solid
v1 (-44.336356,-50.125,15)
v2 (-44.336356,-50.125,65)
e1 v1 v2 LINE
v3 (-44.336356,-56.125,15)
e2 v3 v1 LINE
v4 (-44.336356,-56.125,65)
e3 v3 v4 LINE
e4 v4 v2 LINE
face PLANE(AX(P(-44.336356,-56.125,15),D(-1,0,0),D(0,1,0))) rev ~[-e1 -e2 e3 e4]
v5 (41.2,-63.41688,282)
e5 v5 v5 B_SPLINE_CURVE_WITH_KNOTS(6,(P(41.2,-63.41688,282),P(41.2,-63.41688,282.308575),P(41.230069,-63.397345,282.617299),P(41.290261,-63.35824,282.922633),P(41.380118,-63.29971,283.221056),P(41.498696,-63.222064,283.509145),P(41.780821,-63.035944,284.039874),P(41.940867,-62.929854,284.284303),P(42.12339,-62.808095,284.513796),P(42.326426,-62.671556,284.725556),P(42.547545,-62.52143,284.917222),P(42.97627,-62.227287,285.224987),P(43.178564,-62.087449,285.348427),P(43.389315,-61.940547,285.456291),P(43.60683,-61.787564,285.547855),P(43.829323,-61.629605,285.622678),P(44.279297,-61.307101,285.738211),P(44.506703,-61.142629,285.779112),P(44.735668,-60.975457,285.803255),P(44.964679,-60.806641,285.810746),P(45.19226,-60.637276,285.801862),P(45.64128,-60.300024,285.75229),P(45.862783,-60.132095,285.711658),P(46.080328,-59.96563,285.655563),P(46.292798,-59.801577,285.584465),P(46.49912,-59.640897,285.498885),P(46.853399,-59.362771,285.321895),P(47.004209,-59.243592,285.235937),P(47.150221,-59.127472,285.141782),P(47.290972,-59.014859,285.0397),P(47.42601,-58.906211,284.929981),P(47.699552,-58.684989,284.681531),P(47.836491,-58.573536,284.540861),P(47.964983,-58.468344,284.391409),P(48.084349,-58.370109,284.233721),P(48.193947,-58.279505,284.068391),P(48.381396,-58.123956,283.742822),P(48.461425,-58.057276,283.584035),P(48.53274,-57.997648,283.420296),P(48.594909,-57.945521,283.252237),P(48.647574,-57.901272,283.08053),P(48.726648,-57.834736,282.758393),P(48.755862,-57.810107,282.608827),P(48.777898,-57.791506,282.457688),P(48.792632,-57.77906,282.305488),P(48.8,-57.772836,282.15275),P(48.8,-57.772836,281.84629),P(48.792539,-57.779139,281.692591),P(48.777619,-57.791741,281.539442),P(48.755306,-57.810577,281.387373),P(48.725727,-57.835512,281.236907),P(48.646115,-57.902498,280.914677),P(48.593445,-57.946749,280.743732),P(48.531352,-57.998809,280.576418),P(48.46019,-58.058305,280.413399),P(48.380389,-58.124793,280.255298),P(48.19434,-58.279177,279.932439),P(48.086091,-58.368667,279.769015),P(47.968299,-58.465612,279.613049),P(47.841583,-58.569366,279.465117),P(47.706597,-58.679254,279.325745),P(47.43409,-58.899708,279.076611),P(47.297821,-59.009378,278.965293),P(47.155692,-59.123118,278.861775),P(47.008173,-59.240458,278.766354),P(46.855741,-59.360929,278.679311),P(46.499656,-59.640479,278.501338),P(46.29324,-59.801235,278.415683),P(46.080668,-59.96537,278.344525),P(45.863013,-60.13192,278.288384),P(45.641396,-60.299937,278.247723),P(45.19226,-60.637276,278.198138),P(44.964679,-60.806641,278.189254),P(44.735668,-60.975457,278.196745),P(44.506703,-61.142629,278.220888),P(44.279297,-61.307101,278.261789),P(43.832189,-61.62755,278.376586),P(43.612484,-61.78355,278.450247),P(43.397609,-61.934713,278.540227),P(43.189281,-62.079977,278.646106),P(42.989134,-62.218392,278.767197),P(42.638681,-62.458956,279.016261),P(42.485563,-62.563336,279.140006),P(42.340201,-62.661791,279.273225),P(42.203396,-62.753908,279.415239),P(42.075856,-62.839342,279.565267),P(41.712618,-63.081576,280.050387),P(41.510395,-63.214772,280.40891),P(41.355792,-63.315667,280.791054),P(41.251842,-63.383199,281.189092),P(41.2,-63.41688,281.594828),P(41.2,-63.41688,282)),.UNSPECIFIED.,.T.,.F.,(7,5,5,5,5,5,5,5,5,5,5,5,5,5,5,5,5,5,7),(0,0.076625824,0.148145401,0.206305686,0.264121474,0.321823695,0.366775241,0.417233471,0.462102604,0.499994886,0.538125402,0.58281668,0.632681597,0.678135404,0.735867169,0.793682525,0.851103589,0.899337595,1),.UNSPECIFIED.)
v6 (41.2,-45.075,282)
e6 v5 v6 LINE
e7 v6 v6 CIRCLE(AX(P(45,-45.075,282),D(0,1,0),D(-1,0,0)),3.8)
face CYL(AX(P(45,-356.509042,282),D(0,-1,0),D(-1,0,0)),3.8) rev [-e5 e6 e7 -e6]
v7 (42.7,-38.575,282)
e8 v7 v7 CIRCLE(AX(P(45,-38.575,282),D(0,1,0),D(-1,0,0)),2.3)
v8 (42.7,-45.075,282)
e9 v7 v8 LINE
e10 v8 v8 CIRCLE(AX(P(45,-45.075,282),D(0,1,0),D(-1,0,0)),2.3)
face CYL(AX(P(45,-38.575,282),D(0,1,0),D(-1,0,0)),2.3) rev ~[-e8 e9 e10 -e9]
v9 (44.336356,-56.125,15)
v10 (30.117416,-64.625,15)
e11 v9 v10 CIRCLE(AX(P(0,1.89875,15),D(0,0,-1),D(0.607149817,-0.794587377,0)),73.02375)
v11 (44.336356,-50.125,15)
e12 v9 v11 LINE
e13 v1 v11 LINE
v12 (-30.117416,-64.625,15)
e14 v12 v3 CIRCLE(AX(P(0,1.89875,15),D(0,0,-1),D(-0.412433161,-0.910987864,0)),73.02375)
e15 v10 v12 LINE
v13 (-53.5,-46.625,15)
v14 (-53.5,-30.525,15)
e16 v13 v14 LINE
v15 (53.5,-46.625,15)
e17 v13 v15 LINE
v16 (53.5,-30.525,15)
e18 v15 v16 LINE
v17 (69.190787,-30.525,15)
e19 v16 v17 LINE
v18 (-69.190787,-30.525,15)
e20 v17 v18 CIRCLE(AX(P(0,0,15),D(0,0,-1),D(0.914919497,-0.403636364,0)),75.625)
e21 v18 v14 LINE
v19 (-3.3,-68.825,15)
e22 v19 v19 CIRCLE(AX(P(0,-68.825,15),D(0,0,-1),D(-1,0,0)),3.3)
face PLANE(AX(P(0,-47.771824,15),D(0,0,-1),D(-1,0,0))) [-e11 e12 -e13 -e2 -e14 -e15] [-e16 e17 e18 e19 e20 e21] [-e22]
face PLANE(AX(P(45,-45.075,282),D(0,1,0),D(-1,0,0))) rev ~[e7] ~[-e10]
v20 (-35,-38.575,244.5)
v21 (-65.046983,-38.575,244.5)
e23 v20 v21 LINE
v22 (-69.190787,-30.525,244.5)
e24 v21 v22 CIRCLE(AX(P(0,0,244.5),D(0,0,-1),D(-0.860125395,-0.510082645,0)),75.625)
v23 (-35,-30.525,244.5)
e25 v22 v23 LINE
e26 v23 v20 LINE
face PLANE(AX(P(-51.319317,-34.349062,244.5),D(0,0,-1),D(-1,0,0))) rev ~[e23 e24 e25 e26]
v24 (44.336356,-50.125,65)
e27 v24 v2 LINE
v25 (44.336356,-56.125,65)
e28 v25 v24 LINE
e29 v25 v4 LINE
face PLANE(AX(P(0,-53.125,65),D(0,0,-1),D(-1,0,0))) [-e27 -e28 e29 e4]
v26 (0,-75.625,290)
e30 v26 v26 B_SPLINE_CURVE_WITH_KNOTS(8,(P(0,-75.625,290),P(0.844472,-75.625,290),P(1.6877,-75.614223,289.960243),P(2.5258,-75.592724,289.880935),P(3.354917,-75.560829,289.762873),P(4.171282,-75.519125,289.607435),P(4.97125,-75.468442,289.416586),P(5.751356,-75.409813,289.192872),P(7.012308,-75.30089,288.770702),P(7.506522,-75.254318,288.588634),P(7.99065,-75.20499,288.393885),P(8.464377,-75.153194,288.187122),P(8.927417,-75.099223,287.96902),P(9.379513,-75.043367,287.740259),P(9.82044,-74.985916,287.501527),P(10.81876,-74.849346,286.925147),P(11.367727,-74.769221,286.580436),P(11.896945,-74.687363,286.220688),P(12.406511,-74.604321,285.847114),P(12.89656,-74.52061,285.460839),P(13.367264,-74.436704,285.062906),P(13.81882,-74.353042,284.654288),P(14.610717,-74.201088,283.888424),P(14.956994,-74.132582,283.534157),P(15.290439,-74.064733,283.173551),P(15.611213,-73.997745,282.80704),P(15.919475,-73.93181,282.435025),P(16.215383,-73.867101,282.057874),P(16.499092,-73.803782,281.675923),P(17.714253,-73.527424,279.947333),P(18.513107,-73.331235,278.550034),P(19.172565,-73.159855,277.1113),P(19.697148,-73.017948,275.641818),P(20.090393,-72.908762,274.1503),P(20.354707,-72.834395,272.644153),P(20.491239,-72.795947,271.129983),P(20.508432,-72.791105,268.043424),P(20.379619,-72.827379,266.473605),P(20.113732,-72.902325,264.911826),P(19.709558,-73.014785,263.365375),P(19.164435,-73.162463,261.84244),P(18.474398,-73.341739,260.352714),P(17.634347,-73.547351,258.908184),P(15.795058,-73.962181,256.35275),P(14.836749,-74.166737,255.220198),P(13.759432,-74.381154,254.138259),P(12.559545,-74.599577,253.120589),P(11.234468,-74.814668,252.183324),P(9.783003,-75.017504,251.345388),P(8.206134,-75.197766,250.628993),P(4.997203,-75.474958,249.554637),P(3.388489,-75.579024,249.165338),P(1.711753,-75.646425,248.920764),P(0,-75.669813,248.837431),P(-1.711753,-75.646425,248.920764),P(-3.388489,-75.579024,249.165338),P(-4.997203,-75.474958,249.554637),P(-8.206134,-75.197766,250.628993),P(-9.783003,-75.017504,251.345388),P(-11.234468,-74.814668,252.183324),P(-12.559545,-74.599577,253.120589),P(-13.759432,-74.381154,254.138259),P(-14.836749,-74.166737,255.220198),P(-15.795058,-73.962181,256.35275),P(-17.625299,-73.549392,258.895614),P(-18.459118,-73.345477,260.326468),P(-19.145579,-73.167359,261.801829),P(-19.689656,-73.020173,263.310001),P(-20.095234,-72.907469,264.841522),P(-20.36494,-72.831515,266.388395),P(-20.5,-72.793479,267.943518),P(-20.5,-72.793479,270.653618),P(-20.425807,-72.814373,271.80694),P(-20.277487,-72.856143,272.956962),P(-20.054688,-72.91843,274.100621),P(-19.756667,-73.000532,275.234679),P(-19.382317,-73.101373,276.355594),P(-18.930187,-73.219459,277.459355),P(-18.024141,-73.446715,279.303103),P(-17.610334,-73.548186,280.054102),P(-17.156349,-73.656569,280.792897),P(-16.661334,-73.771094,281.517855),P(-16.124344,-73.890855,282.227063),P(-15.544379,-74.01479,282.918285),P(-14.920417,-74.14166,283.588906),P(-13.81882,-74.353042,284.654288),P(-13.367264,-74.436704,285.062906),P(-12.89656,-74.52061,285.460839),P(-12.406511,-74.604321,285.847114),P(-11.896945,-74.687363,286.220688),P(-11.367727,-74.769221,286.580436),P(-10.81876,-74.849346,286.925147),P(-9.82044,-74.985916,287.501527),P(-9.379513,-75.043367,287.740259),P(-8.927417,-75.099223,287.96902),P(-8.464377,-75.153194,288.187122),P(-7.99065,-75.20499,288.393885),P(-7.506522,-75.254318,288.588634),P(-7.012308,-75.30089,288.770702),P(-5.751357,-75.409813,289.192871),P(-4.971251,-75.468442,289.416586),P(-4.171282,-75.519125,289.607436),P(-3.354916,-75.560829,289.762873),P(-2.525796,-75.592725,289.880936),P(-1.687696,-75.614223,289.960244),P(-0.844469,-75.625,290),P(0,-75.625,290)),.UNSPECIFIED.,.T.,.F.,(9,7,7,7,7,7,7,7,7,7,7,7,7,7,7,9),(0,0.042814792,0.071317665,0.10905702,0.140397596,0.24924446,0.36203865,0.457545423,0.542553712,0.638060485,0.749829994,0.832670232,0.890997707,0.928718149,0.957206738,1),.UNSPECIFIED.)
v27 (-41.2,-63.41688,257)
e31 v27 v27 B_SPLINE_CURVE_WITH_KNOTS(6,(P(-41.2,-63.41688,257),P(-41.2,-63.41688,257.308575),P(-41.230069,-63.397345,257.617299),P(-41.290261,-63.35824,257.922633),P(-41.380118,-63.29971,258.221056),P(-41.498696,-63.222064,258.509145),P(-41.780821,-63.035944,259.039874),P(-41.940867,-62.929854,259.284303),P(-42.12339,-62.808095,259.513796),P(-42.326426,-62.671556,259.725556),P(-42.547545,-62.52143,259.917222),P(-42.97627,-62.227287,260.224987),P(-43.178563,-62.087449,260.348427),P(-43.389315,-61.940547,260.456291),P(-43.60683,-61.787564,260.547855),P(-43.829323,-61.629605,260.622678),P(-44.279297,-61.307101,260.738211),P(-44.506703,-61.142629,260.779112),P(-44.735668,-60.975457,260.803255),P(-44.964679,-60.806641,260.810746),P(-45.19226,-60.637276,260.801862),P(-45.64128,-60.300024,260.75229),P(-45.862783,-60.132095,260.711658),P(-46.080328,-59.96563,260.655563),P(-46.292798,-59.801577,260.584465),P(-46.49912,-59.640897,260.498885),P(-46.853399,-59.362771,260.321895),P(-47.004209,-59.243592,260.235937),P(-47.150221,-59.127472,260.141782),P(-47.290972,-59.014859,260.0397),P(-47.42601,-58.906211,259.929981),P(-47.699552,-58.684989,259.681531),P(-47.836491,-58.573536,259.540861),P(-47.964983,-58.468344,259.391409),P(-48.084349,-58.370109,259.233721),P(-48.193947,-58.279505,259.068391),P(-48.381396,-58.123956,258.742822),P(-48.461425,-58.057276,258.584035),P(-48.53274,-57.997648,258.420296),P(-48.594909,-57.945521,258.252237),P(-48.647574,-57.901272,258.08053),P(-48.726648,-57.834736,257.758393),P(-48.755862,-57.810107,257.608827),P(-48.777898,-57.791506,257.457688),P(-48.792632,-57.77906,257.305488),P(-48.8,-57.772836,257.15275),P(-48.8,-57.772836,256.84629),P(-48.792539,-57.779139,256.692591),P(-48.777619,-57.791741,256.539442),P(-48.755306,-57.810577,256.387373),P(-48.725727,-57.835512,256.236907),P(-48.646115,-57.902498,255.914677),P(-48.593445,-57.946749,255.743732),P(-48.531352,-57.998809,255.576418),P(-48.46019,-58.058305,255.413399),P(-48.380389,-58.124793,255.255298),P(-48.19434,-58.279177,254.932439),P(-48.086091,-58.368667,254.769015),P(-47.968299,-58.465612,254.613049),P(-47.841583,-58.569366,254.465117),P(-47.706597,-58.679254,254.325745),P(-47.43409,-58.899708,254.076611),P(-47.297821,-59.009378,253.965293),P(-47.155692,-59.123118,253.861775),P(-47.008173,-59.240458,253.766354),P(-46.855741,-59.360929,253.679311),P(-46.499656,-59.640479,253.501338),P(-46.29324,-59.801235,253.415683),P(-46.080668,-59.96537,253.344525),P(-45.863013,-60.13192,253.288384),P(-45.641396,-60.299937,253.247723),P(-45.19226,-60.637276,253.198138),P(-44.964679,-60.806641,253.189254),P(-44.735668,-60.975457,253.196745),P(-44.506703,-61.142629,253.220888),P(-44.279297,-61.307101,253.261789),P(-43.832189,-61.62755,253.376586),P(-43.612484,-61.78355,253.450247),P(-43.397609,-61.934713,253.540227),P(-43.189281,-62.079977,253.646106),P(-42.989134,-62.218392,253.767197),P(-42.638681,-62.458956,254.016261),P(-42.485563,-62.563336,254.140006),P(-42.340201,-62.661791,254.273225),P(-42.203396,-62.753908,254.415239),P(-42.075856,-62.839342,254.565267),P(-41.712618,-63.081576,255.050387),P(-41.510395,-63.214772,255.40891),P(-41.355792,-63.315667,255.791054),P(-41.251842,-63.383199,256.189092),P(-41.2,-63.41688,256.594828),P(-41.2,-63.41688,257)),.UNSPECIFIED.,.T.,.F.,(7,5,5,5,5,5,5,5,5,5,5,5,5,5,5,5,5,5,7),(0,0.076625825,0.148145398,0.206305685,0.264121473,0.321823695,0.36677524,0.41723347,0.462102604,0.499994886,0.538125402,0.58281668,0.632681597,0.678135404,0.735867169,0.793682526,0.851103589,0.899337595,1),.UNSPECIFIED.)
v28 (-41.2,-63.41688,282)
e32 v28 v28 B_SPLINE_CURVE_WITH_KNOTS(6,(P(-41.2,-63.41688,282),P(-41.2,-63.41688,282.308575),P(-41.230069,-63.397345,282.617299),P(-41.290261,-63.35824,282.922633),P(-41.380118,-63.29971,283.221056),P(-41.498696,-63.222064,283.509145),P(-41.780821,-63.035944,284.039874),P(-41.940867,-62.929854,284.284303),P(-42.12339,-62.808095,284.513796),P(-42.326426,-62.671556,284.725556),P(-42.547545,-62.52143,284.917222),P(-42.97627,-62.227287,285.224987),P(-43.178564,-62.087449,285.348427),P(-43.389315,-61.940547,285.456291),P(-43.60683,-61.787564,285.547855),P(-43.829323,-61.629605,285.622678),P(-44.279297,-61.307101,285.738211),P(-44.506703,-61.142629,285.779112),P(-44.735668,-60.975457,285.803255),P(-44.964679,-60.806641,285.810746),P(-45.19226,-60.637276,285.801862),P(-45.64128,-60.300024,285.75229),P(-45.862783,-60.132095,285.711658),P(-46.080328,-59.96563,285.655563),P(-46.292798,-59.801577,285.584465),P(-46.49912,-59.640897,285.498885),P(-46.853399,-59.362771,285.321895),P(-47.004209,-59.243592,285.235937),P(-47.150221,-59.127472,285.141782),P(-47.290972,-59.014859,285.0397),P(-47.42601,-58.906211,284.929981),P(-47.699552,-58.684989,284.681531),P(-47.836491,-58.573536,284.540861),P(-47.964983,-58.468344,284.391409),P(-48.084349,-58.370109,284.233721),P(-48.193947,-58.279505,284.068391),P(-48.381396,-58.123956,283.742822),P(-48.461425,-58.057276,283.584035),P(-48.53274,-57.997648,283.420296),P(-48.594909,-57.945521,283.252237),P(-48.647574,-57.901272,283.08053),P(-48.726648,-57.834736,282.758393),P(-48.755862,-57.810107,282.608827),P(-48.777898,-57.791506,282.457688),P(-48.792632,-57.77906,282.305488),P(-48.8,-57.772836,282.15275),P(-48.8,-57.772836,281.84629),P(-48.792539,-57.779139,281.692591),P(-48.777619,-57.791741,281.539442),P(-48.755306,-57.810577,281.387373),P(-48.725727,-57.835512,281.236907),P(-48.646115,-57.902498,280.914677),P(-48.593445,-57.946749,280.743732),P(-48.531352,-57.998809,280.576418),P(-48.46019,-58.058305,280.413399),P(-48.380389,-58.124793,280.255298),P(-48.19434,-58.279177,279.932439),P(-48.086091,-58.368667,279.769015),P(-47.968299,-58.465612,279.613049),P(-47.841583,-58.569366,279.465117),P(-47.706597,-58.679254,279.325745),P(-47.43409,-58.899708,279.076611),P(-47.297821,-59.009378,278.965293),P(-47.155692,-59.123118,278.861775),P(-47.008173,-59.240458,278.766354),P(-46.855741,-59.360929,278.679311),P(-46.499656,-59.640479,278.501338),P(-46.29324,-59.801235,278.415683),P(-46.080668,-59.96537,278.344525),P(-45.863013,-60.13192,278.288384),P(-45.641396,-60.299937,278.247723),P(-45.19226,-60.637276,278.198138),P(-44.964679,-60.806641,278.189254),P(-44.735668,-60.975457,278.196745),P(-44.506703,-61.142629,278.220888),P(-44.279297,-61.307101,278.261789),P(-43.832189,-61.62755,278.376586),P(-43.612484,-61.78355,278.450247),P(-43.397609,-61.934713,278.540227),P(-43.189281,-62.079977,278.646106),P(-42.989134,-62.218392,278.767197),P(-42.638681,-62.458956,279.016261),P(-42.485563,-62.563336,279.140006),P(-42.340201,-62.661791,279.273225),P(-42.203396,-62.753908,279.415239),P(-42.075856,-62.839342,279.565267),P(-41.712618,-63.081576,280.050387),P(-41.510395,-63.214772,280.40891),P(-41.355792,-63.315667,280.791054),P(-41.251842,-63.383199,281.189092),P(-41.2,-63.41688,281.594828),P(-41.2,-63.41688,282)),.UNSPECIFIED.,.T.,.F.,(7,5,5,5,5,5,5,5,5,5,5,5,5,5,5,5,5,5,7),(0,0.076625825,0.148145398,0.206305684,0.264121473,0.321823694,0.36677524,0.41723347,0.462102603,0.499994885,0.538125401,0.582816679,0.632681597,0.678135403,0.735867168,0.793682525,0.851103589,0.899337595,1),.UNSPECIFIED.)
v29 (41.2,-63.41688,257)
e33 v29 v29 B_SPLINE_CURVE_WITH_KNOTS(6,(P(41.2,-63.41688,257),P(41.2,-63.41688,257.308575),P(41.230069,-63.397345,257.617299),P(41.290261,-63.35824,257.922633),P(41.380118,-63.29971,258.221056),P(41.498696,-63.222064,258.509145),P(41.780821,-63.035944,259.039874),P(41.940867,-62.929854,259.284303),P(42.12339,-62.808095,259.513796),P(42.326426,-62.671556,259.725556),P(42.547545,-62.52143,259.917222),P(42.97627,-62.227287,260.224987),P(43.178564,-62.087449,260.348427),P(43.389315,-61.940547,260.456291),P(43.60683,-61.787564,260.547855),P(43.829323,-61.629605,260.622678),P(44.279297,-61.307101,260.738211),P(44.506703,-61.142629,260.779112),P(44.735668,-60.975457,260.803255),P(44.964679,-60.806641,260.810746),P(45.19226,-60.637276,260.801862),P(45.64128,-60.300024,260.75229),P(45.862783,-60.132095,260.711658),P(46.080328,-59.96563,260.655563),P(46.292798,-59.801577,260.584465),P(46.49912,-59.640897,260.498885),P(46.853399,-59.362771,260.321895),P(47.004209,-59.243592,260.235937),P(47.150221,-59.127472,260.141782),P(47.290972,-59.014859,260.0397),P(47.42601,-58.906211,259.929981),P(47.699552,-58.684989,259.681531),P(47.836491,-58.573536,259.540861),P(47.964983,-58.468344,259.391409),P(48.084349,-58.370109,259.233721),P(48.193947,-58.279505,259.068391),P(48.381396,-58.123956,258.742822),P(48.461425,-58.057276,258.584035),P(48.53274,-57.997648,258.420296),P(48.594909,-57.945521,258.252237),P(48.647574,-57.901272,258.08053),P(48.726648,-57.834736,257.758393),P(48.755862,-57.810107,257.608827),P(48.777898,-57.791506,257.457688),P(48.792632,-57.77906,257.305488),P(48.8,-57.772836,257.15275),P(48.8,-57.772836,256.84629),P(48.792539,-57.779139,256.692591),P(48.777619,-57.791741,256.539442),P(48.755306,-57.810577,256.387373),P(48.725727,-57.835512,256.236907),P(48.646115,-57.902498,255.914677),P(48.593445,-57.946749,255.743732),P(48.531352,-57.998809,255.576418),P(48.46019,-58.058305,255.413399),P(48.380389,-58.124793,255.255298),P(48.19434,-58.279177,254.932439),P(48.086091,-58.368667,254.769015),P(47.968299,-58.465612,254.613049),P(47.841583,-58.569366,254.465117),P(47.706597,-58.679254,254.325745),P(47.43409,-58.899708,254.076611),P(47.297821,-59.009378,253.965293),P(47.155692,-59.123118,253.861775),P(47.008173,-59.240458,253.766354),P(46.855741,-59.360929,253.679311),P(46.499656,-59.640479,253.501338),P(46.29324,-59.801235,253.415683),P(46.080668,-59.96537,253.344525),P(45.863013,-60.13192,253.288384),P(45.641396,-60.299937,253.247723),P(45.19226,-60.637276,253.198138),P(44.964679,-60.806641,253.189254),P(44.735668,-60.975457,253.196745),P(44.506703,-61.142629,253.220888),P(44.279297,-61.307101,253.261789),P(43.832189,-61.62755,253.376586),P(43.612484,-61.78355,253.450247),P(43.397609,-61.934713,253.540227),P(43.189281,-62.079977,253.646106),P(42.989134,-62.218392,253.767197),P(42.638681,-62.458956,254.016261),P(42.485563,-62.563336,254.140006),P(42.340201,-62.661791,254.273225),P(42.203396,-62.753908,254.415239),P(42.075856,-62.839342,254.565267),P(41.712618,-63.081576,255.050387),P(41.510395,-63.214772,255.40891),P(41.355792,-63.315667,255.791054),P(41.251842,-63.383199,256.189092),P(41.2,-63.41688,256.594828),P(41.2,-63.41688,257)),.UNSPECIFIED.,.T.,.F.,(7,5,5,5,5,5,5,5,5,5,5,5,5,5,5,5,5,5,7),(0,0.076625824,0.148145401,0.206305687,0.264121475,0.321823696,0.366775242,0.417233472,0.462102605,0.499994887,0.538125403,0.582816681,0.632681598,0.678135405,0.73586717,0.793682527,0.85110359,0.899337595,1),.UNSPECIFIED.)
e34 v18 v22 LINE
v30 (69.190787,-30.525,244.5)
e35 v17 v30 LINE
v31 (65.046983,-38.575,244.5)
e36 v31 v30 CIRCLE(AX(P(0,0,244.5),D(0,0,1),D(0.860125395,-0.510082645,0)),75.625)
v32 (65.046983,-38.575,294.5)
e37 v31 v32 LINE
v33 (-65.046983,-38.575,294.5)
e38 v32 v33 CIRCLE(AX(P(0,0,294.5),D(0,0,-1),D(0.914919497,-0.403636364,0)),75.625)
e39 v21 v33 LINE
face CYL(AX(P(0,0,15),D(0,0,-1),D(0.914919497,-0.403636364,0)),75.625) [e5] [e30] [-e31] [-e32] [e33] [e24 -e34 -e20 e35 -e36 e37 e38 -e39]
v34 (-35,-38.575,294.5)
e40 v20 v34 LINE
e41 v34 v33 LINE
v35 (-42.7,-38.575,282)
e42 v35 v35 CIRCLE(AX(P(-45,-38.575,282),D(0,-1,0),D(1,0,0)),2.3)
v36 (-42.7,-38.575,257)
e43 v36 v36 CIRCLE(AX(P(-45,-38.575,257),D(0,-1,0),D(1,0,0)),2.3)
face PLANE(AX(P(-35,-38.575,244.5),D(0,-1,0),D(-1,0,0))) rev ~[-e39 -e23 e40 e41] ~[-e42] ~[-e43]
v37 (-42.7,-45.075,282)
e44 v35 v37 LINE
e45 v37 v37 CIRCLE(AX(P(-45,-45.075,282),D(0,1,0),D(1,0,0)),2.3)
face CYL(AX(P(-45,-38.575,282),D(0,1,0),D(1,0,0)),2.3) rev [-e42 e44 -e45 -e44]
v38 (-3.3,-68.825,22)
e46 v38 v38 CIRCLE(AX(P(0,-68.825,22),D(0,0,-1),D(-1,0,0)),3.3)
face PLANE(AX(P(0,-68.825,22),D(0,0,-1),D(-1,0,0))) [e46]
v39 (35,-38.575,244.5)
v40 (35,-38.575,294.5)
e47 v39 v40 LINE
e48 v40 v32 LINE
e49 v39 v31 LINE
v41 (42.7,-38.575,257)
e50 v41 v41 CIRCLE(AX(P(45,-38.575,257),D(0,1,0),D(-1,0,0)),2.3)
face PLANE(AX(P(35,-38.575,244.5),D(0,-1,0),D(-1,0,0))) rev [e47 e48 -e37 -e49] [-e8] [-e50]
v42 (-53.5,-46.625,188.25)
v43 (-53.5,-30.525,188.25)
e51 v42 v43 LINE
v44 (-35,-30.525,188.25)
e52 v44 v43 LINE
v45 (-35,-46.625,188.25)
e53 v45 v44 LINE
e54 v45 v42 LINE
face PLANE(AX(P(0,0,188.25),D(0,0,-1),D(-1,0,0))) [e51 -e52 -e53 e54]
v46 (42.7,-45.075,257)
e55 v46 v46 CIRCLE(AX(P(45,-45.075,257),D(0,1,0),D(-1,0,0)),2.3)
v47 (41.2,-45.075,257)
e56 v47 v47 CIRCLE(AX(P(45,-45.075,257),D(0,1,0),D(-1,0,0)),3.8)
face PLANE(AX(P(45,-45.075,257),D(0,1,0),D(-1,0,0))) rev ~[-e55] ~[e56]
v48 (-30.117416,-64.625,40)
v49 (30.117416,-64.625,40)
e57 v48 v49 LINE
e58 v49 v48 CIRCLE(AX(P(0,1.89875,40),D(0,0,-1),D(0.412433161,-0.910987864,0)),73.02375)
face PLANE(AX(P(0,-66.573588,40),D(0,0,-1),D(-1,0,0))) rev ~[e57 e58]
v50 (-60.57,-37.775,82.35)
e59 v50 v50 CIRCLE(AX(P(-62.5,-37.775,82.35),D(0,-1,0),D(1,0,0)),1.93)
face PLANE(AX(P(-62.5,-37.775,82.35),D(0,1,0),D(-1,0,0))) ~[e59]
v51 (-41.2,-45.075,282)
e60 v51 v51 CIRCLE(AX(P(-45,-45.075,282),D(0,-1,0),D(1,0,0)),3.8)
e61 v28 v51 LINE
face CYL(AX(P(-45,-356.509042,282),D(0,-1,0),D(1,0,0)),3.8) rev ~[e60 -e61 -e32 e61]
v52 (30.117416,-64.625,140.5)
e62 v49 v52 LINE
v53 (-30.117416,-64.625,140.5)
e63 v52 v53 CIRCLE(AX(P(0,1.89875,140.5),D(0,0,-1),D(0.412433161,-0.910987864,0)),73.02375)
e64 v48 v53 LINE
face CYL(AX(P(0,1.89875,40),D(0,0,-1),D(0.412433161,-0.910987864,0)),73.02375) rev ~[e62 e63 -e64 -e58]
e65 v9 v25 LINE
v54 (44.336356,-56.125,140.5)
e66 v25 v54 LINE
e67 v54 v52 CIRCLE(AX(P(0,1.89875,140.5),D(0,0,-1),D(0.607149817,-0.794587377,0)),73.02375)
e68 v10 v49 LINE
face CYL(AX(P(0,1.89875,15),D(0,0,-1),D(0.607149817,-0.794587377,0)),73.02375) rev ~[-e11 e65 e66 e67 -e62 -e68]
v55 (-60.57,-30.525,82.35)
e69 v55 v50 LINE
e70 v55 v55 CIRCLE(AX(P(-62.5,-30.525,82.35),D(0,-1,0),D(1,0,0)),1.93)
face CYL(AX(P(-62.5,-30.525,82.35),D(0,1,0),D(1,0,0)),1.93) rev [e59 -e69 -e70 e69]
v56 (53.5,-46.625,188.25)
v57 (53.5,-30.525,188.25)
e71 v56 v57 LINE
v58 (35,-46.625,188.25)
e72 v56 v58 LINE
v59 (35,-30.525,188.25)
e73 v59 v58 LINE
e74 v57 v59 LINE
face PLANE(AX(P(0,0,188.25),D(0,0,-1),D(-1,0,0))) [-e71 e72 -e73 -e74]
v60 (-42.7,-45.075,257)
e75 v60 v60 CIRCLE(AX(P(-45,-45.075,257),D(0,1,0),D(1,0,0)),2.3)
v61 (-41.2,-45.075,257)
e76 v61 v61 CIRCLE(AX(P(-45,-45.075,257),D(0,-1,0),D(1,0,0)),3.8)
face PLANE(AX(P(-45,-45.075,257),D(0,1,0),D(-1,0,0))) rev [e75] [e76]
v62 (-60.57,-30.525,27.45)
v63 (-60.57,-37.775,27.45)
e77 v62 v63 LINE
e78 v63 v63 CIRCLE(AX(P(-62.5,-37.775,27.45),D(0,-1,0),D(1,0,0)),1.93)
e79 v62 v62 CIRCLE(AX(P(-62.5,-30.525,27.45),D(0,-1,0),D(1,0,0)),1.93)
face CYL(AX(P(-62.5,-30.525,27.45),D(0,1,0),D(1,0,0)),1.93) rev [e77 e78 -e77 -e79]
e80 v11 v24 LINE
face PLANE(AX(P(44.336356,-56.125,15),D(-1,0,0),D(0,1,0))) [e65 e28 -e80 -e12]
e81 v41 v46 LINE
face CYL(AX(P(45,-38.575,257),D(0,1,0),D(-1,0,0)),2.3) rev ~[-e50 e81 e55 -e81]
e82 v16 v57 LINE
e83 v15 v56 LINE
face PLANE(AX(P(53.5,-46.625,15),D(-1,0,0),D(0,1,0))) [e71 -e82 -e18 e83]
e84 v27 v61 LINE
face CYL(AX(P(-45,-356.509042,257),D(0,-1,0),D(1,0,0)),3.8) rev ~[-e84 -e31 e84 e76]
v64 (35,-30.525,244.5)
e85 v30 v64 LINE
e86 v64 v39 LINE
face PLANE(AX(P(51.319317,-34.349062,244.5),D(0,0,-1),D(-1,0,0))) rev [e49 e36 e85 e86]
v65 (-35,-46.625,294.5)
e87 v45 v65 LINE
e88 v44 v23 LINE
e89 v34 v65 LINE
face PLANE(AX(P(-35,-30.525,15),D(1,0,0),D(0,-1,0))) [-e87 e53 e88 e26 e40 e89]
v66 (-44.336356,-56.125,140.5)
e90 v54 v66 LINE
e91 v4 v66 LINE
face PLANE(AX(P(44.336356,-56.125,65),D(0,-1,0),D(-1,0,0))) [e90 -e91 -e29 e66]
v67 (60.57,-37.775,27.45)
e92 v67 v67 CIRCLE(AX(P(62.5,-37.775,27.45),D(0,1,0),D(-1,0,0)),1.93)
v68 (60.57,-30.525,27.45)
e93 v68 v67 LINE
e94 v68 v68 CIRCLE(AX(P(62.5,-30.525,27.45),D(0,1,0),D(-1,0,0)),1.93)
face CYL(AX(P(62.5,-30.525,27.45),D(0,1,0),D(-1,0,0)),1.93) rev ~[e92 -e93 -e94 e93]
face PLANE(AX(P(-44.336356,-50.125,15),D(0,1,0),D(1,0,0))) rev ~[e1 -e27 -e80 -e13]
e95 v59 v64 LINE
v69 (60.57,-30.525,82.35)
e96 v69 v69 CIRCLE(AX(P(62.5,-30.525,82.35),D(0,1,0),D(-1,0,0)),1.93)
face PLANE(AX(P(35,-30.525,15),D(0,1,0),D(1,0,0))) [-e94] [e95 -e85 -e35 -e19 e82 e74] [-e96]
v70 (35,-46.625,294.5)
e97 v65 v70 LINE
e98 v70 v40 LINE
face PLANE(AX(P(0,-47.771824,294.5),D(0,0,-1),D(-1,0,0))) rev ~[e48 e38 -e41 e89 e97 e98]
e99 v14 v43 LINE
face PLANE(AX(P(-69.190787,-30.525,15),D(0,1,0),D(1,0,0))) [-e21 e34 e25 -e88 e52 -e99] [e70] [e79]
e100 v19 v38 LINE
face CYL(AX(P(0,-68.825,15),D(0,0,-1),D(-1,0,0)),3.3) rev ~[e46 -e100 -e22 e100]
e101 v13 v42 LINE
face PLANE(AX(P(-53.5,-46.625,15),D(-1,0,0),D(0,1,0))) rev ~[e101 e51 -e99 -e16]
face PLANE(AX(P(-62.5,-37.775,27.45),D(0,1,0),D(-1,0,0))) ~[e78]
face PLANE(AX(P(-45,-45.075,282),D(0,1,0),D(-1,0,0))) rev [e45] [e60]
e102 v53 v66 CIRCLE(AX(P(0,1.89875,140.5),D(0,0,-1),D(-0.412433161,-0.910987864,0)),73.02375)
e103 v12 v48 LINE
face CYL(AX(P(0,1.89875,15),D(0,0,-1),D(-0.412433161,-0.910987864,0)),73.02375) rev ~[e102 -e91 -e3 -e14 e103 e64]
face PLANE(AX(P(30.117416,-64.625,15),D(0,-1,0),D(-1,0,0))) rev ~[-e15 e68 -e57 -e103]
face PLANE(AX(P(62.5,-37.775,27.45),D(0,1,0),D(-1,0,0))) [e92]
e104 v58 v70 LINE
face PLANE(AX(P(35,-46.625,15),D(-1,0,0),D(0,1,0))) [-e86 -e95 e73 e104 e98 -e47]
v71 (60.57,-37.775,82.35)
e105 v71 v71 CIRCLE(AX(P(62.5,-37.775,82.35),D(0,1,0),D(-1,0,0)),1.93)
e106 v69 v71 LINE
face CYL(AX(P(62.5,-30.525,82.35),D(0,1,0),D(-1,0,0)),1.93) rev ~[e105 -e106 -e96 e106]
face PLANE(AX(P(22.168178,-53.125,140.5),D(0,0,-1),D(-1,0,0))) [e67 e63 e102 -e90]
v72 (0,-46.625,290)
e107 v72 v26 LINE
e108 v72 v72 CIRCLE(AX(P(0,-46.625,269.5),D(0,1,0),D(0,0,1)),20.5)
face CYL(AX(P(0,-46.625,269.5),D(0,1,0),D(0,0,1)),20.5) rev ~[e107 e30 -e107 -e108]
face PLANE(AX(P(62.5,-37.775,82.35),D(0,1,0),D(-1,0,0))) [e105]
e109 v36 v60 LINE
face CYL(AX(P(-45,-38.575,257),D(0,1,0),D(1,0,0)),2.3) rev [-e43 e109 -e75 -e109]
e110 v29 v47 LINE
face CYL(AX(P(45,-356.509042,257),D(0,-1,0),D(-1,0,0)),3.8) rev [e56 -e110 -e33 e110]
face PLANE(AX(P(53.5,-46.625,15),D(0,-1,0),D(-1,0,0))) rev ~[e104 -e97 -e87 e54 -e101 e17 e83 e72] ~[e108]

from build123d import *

# Parameters (mm, degrees)
BOSS_EXTRUDE1_START = 15
BOSS_EXTRUDE1_DEPTH = 279.5
SKETCH3_W           = 107
SKETCH3_H           = 93.25
CUT_EXTRUDE1_DEPTH  = 173.25
SKETCH4_R           = 20.5
CUT_EXTRUDE2_DEPTH  = 304.90560212
CUT_EXTRUDE3_START  = -50
CUT_EXTRUDE3_DEPTH  = 50
SKETCH7_R           = 2.3
CUT_EXTRUDE5_DEPTH  = 305.779129174
CUT_EXTRUDE8_START  = -304.43404156
SKETCH11_R          = 3.8
CUT_EXTRUDE8_DEPTH  = 311.43404156
SKETCH14_R          = 1.93
CUT_EXTRUDE9_DEPTH  = 7.25
SKETCH18_W          = 44.336356413
SKETCH18_H          = 6
CUT_EXTRUDE10_DEPTH = 125.5
CUT_EXTRUDE12_DEPTH = 100.5
SKETCH20_W          = 88.672712826
SKETCH20_H          = 6
BOSS_EXTRUDE2_DEPTH = 75.5
SCREW_HEAD_HOLE_R   = 3.3
SCREW_HEAD_HOLE_R_2 = 1.45
CUT_EXTRUDE13_DEPTH = 7


with BuildPart() as part:
    # Sketch1 → Boss-Extrude1 (new body)
    with BuildSketch(Plane.XY.offset(BOSS_EXTRUDE1_START)):
        with BuildLine():
            Line((-69.190786959, -30.525), (-35, -30.525))
            Line((-35, -30.525), (-35, -46.625))
            Line((-35, -46.625), (35, -46.625))
            Line((35, -46.625), (35, -30.525))
            Line((35, -30.525), (69.190786959, -30.525))
            ThreePointArc((69.190786959, -30.525), (0, -75.625), (-69.190786959, -30.525))
        make_face()
    extrude(amount=BOSS_EXTRUDE1_DEPTH)

    # Sketch3 → Cut-Extrude1 (cut)
    with BuildSketch(Plane(origin=(0, 0, 15), x_dir=(-1, 0, 0), z_dir=(0, 0, -1))):
        Rectangle(SKETCH3_W, SKETCH3_H)
    extrude(amount=-CUT_EXTRUDE1_DEPTH, mode=Mode.SUBTRACT)

    # Sketch4 → Cut-Extrude2 (cut, through all)
    with BuildSketch(Plane(origin=(0, -46.625, 0), x_dir=(1, 0, 0), z_dir=(0, 1, 0))):
        with Locations(Location((0, -269.5, 0), (0, 0, 270))):
            Circle(SKETCH4_R)
    extrude(amount=-CUT_EXTRUDE2_DEPTH, mode=Mode.SUBTRACT)

    # Sketch2 → Cut-Extrude3 (cut)
    with BuildSketch(Plane.XY.offset(294.5).offset(CUT_EXTRUDE3_START)):
        with BuildLine():
            Line((-35, -30.525), (-35, -38.575))
            Line((-35, -38.575), (-65.04698302, -38.575))
            ThreePointArc((-65.04698302, -38.575), (-67.239462723, -34.612068383), (-69.190786959, -30.525))
            Line((-69.190786959, -30.525), (-35, -30.525))
        make_face()
    cut_extrude3 = extrude(amount=CUT_EXTRUDE3_DEPTH, mode=Mode.SUBTRACT)

    # Mirror1: Cut-Extrude3 across plane
    add(cut_extrude3.mirror(Plane(origin=(0, 0, 0), x_dir=(0, 0, 1), z_dir=(1, 0, 0))), mode=Mode.SUBTRACT)

    # Sketch7 → Cut-Extrude5 (cut, through all)
    with BuildSketch(Plane(origin=(0, -38.575, 0), x_dir=(1, 0, 0), z_dir=(0, 1, 0))):
        with Locations(Location((45, -257, 0), (0, 0, 180))):
            Circle(SKETCH7_R)
        with Locations(Location((45, -282, 0), (0, 0, 180))):
            Circle(SKETCH7_R)
    cut_extrude5 = extrude(amount=-CUT_EXTRUDE5_DEPTH, mode=Mode.SUBTRACT)

    # Mirror2: Cut-Extrude5 across plane
    add(cut_extrude5.mirror(Plane(origin=(0, 0, 0), x_dir=(0, 0, 1), z_dir=(1, 0, 0))), mode=Mode.SUBTRACT)

    # Sketch11 → Cut-Extrude8 (cut)
    with BuildSketch(Plane(origin=(0, -52.075, 0), x_dir=(1, 0, 0), z_dir=(0, 1, 0)).offset(CUT_EXTRUDE8_START)):
        with Locations(Location((45, -282, 0), (0, 0, 180))):
            Circle(SKETCH11_R)
        with Locations(Location((45, -257, 0), (0, 0, 180))):
            Circle(SKETCH11_R)
    cut_extrude8 = extrude(amount=CUT_EXTRUDE8_DEPTH, mode=Mode.SUBTRACT)

    # Mirror3: Cut-Extrude8 across plane
    add(cut_extrude8.mirror(Plane(origin=(0, 0, 0), x_dir=(0, 0, 1), z_dir=(1, 0, 0))), mode=Mode.SUBTRACT)

    # Sketch14 → Cut-Extrude9 (cut)
    with BuildSketch(Plane(origin=(0, -30.525, 0), x_dir=(1, 0, 0), z_dir=(0, 1, 0))):
        with Locations(Location((62.5, -27.45, 0), (0, 0, 180))):
            Circle(SKETCH14_R)
        with Locations(Location((62.5, -82.35, 0), (0, 0, 180))):
            Circle(SKETCH14_R)
    cut_extrude9 = extrude(amount=-CUT_EXTRUDE9_DEPTH, mode=Mode.SUBTRACT)

    # Mirror4: Cut-Extrude9 across plane
    add(cut_extrude9.mirror(Plane(origin=(0, 0, 0), x_dir=(0, 0, 1), z_dir=(1, 0, 0))), mode=Mode.SUBTRACT)

    # Sketch18 → Cut-Extrude10 (cut)
    with BuildSketch(Plane(origin=(0, 0, 15), x_dir=(-1, 0, 0), z_dir=(0, 0, -1))):
        with Locations((-22.168178207, -53.125)):
            Rectangle(SKETCH18_W, SKETCH18_H)
        with Locations((22.168178207, -53.125)):
            Rectangle(SKETCH18_W, SKETCH18_H)
        with BuildLine():
            Line((42.207819181, -56.625), (0, -56.625))
            Line((0, -56.625), (0, -64.625))
            Line((0, -64.625), (28.486839066, -64.625))
            ThreePointArc((28.486839066, -64.625), (35.572934602, -61.011941035), (42.207819181, -56.625))
        make_face()
        with BuildLine():
            Line((0, -64.625), (0, -56.625))
            Line((0, -56.625), (-42.207819181, -56.625))
            ThreePointArc((-42.207819181, -56.625), (-35.572934602, -61.011941035), (-28.486839066, -64.625))
            Line((-28.486839066, -64.625), (0, -64.625))
        make_face()
        with BuildLine():
            Line((42.207819181, -56.625), (0, -56.625))
            Line((0, -56.625), (0, -64.625))
            Line((0, -64.625), (28.486839066, -64.625))
            ThreePointArc((28.486839066, -64.625), (35.572934602, -61.011941035), (42.207819181, -56.625))
        make_face()
        with BuildLine():
            Line((0, -64.625), (0, -56.625))
            Line((0, -56.625), (-42.207819181, -56.625))
            ThreePointArc((-42.207819181, -56.625), (-35.572934602, -61.011941035), (-28.486839066, -64.625))
            Line((-28.486839066, -64.625), (0, -64.625))
        make_face()
        with BuildLine():
            Line((-42.207819181, -56.625), (0, -56.625))
            Line((0, -56.625), (0, -56.125))
            Line((0, -56.125), (-44.336356413, -56.125))
            ThreePointArc((-44.336356413, -56.125), (-37.468701056, -60.779511824), (-30.117416058, -64.625))
            Line((-30.117416058, -64.625), (-28.486839066, -64.625))
            ThreePointArc((-28.486839066, -64.625), (-35.572934602, -61.011941035), (-42.207819181, -56.625))
        make_face()
        with BuildLine():
            Line((0, -56.125), (0, -56.625))
            Line((0, -56.625), (42.207819181, -56.625))
            ThreePointArc((42.207819181, -56.625), (35.572934602, -61.011941035), (28.486839066, -64.625))
            Line((28.486839066, -64.625), (30.117416058, -64.625))
            ThreePointArc((30.117416058, -64.625), (37.468701056, -60.779511824), (44.336356413, -56.125))
            Line((44.336356413, -56.125), (0, -56.125))
        make_face()
        with BuildLine():
            Line((-42.207819181, -56.625), (0, -56.625))
            Line((0, -56.625), (0, -56.125))
            Line((0, -56.125), (-44.336356413, -56.125))
            ThreePointArc((-44.336356413, -56.125), (-37.468701056, -60.779511824), (-30.117416058, -64.625))
            Line((-30.117416058, -64.625), (-28.486839066, -64.625))
            ThreePointArc((-28.486839066, -64.625), (-35.572934602, -61.011941035), (-42.207819181, -56.625))
        make_face()
        with BuildLine():
            Line((0, -56.125), (0, -56.625))
            Line((0, -56.625), (42.207819181, -56.625))
            ThreePointArc((42.207819181, -56.625), (35.572934602, -61.011941035), (28.486839066, -64.625))
            Line((28.486839066, -64.625), (30.117416058, -64.625))
            ThreePointArc((30.117416058, -64.625), (37.468701056, -60.779511824), (44.336356413, -56.125))
            Line((44.336356413, -56.125), (0, -56.125))
        make_face()
    extrude(amount=-CUT_EXTRUDE10_DEPTH, mode=Mode.SUBTRACT)

    # Sketch19 → Cut-Extrude12 (cut)
    with BuildSketch(Plane(origin=(0, 0, 40), x_dir=(-1, 0, 0), z_dir=(0, 0, -1))):
        with BuildLine():
            ThreePointArc((-30.117416058, -64.625), (0, -71.125), (30.117416058, -64.625))
            Line((30.117416058, -64.625), (-30.117416058, -64.625))
        make_face()
    extrude(amount=-CUT_EXTRUDE12_DEPTH, mode=Mode.SUBTRACT)

    # Sketch20 → Boss-Extrude2 (add)
    with BuildSketch(Plane(origin=(0, 0, 65), x_dir=(-1, 0, 0), z_dir=(0, 0, -1))):
        with Locations((0, -53.125)):
            Rectangle(SKETCH20_W, SKETCH20_H)
    extrude(amount=-BOSS_EXTRUDE2_DEPTH)

    # screw head hole → Cut-Extrude13 (cut)
    # profile 1 of 2: a face of its own
    with BuildSketch(Plane(origin=(0, 0, 15), x_dir=(-1, 0, 0), z_dir=(0, 0, -1))):
        with Locations((0, -68.825)):
            Circle(SCREW_HEAD_HOLE_R)
        with Locations((0, -68.825)):
            Circle(SCREW_HEAD_HOLE_R_2, mode=Mode.SUBTRACT)
    # profile 2 of 2: a face of its own
    with BuildSketch(Plane(origin=(0, 0, 15), x_dir=(-1, 0, 0), z_dir=(0, 0, -1))):
        with Locations((0, -68.825)):
            Circle(SCREW_HEAD_HOLE_R_2)
    extrude(amount=-CUT_EXTRUDE13_DEPTH, mode=Mode.SUBTRACT)


solid = part.part
